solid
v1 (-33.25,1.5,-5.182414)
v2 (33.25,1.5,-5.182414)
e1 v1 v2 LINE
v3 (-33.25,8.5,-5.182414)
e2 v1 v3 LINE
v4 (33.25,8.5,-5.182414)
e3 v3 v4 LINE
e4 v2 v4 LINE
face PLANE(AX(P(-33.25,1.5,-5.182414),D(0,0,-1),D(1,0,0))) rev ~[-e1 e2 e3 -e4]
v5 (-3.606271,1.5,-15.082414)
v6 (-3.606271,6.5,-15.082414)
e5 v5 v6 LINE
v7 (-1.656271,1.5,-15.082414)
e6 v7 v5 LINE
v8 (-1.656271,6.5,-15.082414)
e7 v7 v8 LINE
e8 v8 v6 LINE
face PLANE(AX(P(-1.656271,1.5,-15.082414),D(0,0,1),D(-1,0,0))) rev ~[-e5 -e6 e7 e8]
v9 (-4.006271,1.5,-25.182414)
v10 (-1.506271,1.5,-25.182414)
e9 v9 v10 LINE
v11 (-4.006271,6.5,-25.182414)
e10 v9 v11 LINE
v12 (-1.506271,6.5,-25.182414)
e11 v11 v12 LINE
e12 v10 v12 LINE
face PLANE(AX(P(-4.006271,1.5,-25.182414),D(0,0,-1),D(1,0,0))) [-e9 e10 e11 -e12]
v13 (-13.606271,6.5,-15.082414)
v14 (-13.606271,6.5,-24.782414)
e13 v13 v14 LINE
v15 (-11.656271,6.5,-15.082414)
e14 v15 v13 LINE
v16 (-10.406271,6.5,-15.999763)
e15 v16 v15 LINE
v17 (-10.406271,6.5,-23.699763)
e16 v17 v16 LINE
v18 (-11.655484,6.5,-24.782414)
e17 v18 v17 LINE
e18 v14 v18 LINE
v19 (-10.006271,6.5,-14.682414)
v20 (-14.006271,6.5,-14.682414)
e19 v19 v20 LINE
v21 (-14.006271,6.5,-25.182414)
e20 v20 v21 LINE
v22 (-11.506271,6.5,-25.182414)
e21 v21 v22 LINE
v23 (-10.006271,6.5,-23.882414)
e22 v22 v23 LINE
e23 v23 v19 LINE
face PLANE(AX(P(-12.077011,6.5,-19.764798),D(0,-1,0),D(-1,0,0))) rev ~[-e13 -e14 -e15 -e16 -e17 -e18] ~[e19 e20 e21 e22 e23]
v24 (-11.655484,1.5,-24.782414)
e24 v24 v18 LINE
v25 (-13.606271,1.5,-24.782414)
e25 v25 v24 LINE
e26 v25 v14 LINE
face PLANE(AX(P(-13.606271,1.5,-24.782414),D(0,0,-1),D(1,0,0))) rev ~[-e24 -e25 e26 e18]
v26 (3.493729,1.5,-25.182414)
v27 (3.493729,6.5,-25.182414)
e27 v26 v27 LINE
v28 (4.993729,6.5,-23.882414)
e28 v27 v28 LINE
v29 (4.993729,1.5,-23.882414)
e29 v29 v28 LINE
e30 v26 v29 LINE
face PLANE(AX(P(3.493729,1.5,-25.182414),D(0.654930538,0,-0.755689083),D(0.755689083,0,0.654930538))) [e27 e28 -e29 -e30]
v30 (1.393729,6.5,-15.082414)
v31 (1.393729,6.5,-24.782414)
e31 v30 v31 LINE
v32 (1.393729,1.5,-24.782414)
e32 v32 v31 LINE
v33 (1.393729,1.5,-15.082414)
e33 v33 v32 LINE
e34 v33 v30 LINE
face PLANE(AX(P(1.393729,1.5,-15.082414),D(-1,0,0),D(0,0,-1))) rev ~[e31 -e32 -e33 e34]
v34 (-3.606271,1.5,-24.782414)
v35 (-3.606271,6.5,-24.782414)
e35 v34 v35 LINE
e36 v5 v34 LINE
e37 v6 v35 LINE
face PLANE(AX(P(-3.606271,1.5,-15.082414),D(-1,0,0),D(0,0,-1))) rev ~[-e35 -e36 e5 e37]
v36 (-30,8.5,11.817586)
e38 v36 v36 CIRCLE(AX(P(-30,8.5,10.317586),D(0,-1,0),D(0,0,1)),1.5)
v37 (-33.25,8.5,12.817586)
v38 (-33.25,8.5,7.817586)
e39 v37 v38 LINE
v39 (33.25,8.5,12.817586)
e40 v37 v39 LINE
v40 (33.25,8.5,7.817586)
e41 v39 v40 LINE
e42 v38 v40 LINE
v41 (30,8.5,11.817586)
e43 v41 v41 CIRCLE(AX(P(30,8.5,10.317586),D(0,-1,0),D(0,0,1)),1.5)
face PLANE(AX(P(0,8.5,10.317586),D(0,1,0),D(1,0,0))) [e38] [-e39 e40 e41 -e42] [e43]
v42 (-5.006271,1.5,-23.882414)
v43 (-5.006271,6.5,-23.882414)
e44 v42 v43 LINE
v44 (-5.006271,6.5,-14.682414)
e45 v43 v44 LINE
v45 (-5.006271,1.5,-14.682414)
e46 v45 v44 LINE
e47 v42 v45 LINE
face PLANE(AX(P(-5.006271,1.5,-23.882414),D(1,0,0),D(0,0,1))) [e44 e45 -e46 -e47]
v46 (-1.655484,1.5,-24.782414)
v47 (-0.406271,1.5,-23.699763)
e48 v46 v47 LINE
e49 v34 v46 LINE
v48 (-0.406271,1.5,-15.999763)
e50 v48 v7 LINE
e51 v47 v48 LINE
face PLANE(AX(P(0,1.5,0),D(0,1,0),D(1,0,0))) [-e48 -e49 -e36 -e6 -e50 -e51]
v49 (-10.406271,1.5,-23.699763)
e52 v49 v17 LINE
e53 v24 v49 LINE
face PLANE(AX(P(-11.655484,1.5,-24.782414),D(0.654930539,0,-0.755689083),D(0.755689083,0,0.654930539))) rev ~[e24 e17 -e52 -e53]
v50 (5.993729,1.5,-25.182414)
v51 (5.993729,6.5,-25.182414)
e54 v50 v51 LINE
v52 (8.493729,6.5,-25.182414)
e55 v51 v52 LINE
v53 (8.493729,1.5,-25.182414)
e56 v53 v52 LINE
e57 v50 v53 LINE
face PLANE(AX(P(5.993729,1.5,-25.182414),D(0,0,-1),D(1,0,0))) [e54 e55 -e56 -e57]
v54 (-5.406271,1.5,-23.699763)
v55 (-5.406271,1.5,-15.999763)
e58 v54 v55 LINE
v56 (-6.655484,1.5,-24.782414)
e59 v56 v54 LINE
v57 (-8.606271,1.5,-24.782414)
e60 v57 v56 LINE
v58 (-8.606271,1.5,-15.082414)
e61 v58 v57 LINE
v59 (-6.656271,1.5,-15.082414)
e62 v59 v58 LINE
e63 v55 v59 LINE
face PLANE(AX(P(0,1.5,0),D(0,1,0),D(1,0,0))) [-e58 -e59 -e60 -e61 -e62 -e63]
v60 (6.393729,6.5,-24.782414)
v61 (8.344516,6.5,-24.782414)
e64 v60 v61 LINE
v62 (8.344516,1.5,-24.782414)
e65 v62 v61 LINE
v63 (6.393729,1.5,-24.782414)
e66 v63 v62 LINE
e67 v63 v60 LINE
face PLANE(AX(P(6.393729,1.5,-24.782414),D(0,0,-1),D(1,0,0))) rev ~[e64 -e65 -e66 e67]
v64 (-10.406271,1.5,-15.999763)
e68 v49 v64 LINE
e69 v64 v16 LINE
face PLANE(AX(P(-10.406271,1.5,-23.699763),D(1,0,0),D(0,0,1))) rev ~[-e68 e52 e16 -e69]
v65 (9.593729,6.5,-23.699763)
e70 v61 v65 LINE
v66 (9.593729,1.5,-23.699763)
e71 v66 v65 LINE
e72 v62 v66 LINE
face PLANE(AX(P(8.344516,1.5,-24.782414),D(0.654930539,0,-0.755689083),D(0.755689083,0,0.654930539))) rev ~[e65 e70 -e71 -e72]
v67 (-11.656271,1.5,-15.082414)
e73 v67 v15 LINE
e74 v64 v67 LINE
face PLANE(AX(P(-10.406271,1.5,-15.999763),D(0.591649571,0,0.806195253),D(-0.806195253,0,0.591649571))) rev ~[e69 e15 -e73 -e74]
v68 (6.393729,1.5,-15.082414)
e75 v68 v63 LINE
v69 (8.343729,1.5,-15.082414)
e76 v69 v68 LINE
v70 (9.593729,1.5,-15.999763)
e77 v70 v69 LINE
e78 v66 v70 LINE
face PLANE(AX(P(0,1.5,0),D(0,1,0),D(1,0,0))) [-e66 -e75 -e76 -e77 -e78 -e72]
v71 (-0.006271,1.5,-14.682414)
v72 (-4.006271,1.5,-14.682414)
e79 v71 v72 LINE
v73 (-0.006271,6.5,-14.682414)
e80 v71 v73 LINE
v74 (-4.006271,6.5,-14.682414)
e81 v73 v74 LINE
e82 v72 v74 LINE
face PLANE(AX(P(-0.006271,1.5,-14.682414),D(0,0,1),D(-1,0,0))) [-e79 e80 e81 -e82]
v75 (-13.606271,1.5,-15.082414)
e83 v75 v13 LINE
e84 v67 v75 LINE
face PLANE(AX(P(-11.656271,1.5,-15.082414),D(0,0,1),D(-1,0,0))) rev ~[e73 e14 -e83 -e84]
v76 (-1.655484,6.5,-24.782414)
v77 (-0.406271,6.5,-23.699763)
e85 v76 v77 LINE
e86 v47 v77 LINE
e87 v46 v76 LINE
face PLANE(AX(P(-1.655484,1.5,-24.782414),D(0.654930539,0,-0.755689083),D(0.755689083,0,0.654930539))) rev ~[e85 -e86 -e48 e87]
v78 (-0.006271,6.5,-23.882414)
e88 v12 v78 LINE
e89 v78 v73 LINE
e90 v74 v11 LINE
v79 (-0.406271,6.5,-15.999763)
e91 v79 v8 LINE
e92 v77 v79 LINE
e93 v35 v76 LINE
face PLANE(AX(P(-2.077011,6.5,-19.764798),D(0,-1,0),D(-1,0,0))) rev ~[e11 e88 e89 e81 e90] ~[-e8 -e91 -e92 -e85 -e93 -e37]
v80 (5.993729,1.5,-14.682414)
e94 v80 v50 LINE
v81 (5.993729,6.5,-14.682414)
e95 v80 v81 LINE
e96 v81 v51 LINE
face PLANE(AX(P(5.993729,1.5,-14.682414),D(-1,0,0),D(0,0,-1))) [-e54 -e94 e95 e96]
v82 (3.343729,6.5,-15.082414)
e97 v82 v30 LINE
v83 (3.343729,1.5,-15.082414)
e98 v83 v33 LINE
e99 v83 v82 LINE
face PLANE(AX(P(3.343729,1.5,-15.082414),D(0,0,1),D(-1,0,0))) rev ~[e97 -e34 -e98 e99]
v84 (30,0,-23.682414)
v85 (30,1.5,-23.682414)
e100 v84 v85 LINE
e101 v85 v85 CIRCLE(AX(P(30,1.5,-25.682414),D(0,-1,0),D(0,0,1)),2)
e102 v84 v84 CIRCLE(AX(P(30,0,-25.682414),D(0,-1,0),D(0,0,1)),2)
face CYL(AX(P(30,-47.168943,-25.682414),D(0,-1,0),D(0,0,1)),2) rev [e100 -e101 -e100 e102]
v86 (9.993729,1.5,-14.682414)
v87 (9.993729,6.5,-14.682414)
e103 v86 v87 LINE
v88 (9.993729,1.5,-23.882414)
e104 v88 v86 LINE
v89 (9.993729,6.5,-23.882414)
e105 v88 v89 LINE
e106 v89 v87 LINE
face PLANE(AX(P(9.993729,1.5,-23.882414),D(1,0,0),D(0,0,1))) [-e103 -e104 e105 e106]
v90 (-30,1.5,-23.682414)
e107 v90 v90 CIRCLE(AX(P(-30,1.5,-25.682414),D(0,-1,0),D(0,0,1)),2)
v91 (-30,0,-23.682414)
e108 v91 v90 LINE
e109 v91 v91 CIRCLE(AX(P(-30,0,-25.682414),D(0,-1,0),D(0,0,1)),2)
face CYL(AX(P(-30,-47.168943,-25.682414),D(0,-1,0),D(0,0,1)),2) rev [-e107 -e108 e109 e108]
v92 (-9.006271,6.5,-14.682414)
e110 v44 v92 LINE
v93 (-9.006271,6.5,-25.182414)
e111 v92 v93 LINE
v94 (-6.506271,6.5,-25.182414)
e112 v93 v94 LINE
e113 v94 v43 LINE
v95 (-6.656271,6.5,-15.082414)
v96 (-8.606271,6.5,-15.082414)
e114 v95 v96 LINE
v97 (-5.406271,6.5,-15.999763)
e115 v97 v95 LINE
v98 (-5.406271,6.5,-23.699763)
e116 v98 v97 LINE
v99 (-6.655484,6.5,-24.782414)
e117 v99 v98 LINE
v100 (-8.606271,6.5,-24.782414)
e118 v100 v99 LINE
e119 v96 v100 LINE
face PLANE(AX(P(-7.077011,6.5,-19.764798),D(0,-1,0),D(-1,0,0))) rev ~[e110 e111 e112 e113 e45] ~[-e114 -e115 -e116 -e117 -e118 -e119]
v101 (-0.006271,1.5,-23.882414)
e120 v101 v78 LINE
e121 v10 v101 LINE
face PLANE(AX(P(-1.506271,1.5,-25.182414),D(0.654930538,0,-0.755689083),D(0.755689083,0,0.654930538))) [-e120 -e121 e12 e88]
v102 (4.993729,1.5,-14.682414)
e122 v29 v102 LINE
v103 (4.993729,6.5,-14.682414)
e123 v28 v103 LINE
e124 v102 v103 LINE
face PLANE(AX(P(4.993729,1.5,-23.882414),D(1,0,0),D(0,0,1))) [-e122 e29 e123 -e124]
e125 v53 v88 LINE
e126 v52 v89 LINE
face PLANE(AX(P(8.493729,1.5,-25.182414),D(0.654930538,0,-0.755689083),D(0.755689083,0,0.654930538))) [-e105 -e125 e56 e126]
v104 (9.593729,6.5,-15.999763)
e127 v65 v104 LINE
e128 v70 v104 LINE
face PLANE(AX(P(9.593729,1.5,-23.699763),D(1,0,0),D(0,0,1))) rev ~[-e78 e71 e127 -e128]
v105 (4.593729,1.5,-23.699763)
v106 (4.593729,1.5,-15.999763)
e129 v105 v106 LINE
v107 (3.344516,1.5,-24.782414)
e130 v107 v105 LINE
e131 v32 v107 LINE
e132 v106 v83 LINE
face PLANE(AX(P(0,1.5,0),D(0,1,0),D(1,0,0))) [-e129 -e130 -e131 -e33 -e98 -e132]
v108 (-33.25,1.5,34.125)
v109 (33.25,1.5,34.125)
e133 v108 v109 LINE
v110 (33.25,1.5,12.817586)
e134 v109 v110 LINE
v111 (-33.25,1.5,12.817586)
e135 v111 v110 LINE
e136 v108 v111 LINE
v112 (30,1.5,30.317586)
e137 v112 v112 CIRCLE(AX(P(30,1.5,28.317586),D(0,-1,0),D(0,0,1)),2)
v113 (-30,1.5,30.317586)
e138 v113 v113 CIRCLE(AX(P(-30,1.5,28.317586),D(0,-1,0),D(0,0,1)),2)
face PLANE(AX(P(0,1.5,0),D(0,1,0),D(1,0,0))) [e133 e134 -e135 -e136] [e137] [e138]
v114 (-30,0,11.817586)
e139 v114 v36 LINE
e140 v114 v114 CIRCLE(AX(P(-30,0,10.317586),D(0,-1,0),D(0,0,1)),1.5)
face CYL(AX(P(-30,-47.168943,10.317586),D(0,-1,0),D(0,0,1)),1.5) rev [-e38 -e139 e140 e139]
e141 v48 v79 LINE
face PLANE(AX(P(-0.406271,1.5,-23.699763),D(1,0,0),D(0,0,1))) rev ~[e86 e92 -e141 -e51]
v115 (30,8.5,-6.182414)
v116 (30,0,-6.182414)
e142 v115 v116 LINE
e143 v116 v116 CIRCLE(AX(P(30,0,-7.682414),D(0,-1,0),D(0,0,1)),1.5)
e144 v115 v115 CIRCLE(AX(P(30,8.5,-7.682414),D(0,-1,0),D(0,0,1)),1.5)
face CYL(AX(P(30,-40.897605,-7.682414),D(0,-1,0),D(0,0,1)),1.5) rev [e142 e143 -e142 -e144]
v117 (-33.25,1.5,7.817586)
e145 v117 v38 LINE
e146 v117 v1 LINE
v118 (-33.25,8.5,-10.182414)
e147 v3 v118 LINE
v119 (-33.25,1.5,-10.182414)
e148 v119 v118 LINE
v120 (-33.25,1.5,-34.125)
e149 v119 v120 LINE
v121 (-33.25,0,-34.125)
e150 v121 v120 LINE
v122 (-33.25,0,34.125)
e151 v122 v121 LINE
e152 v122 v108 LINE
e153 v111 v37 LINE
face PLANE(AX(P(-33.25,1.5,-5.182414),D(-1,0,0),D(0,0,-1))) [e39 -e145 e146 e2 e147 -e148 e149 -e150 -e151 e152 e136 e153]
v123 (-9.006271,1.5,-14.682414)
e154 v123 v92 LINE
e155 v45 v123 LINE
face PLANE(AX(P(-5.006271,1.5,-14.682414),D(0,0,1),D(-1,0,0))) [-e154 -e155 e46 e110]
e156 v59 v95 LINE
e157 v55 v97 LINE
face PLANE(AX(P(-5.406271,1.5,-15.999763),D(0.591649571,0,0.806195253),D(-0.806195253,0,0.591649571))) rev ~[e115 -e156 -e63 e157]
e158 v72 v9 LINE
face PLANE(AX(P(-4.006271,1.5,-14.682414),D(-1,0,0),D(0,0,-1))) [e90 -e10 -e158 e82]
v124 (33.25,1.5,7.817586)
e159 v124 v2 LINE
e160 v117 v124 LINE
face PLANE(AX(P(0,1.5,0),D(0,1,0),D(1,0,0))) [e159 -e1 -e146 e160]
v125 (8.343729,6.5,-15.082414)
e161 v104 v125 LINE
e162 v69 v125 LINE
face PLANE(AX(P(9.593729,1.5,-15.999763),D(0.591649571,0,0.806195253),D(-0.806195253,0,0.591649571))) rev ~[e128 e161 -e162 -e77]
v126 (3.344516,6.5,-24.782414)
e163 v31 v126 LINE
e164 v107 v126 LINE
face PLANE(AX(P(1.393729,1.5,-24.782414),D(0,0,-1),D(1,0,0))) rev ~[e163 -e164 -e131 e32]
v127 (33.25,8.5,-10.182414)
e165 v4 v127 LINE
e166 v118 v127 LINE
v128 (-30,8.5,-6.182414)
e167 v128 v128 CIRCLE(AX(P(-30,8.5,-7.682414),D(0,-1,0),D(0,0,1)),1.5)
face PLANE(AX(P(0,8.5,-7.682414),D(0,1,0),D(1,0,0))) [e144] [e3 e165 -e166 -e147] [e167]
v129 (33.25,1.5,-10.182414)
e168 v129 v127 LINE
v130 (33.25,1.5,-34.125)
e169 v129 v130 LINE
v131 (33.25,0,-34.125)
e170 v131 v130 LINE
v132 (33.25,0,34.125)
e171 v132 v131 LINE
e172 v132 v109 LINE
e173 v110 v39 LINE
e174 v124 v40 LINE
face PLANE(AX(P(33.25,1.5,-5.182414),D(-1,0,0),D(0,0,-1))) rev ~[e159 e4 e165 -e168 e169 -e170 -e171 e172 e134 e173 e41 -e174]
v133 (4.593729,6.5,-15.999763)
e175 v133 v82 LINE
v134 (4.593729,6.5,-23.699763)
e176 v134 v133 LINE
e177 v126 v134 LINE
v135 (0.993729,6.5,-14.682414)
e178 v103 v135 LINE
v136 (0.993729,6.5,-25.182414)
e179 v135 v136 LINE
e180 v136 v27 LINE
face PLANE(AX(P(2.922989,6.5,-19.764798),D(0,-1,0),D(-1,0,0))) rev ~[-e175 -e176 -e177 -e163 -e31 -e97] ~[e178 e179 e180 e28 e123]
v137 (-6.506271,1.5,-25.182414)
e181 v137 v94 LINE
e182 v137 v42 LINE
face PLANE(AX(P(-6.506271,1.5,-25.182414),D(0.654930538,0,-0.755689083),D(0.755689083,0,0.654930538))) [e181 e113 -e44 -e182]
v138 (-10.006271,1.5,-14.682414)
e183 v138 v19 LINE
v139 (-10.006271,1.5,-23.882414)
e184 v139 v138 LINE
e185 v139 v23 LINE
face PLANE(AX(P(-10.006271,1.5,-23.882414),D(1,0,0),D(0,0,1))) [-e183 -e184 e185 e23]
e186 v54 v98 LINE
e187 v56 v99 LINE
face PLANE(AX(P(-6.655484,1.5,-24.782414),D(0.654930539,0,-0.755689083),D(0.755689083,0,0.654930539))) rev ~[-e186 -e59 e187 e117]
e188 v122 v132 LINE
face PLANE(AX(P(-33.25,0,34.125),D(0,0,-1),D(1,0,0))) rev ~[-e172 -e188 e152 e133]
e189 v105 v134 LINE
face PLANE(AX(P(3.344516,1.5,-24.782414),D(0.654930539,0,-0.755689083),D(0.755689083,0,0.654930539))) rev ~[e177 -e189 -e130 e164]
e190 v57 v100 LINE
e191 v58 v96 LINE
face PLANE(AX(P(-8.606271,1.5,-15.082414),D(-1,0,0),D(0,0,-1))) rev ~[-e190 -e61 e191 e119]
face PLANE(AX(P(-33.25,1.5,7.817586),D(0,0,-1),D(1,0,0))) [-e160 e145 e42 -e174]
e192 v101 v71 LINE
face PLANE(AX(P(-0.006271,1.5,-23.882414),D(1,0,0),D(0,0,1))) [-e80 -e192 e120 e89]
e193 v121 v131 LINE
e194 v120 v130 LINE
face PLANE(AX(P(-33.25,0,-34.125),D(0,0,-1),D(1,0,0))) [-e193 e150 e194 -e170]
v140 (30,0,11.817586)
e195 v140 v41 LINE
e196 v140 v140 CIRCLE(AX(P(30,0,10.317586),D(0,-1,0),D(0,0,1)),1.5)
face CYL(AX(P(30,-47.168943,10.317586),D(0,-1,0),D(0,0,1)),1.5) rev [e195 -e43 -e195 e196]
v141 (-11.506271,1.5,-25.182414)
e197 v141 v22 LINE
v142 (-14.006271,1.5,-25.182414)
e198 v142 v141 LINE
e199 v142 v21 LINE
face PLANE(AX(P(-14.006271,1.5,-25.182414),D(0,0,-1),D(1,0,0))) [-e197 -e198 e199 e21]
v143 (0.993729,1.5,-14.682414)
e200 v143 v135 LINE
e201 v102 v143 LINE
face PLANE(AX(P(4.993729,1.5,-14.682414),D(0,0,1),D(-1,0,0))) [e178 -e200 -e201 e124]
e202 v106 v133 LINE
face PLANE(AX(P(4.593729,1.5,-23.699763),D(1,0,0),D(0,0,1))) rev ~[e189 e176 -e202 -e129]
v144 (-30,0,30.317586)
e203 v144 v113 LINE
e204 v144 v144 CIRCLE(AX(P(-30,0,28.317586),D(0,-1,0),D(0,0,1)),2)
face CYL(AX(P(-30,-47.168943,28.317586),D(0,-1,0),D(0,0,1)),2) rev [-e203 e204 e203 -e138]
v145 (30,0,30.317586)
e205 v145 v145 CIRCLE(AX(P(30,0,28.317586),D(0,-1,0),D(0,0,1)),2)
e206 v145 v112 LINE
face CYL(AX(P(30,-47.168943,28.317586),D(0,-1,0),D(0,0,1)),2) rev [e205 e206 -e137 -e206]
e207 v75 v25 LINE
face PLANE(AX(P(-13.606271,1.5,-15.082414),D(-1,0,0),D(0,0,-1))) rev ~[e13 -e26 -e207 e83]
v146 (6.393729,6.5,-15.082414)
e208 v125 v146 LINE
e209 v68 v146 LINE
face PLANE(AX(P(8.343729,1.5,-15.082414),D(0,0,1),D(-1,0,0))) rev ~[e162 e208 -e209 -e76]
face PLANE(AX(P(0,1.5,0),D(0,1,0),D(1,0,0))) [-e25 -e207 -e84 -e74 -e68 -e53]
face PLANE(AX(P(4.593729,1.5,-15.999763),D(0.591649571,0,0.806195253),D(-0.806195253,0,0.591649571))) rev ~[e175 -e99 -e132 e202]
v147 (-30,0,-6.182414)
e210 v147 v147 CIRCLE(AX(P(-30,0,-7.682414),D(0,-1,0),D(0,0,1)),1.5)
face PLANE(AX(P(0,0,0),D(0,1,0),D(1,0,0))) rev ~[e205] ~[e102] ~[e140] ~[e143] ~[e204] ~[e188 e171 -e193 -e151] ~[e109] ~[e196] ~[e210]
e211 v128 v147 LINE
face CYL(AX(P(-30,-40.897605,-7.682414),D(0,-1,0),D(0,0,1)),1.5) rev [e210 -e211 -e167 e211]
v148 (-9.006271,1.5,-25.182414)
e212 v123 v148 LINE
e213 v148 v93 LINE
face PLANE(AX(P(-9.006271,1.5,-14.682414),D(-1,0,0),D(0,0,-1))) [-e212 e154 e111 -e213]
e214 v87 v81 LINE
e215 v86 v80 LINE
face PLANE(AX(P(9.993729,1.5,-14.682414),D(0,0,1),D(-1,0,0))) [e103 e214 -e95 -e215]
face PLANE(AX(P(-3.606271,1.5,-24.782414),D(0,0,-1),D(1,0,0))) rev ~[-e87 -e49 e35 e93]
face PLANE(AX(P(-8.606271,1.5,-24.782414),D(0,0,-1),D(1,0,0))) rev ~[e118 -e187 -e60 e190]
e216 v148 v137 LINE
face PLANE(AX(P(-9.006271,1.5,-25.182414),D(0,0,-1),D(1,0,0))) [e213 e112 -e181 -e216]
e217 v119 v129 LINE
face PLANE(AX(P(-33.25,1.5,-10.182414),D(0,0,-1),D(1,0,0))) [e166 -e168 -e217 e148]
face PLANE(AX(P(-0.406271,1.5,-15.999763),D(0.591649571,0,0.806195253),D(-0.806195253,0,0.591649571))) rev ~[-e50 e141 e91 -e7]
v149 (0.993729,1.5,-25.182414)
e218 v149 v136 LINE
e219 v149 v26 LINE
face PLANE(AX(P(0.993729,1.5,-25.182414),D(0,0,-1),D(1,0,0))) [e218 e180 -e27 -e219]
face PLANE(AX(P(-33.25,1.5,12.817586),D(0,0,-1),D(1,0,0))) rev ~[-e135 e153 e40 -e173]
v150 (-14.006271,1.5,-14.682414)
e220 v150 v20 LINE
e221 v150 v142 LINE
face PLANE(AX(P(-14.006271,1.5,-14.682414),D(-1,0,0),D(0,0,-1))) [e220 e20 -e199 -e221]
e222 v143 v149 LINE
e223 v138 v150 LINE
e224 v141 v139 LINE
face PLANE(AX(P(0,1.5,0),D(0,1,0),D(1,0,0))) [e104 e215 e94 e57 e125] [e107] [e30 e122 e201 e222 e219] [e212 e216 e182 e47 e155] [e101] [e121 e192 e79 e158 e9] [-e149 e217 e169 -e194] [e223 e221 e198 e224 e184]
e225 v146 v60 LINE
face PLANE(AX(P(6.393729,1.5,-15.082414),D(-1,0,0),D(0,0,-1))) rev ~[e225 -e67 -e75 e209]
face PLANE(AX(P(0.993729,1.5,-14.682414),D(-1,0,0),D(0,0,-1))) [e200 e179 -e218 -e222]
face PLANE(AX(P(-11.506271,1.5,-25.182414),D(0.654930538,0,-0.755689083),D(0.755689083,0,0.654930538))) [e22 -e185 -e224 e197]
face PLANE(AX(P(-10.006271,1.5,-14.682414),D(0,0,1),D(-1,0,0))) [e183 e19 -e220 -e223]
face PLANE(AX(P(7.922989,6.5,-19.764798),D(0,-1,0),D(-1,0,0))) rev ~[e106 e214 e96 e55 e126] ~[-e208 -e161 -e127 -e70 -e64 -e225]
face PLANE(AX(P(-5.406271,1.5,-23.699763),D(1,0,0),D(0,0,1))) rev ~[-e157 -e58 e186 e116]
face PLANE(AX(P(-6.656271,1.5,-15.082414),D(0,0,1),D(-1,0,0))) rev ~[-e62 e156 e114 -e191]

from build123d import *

# Parameters (mm, degrees)
SKETCH1_W               = 66.5
SKETCH1_H               = 68.25
BOSS_EXTRUDE1_DEPTH     = 1.5
CUT_EXTRUDE1_DEPTH      = 48.668942982
CUT_EXTRUDE1_DEPTH_BACK = 48.668942982
SKETCH3_R               = 2
SKETCH3_R_2             = 1.5
BOSS_EXTRUDE2_DEPTH     = 5
SKETCH6_W               = 66.5
SKETCH6_H               = 5
BOSS_EXTRUDE3_DEPTH     = 7
CUT_EXTRUDE2_DEPTH      = 49.397604538
CUT_EXTRUDE2_DEPTH_BACK = 49.397604538
SKETCH7_R               = 1.5


with BuildPart() as part:
    # Sketch1 → Boss-Extrude1 (new body)
    with BuildSketch(Plane(origin=(0, 0, 0), x_dir=(1, 0, 0), z_dir=(0, 1, 0))):
        Rectangle(SKETCH1_W, SKETCH1_H)
    extrude(amount=BOSS_EXTRUDE1_DEPTH)

    # Sketch3 → Cut-Extrude1 (cut, two sides: drawn at the far end of the back side and taken through both)
    with BuildSketch(Plane(origin=(0, 1.5, 0), x_dir=(1, 0, 0), z_dir=(0, 1, 0)).offset(-CUT_EXTRUDE1_DEPTH_BACK)):
        with Locations(Location((-30, -28.317585536, 0), (0, 0, 270))):
            Circle(SKETCH3_R)
        with Locations(Location((30, -28.317585536, 0), (0, 0, 270))):
            Circle(SKETCH3_R)
        with Locations(Location((30, 25.682414464, 0), (0, 0, 270))):
            Circle(SKETCH3_R)
        with Locations(Location((-30, 25.682414464, 0), (0, 0, 270))):
            Circle(SKETCH3_R)
        with Locations(Location((30, 7.682414464, 0), (0, 0, 270))):
            Circle(SKETCH3_R_2)
        with Locations(Location((30, -10.317585536, 0), (0, 0, 270))):
            Circle(SKETCH3_R_2)
        with Locations(Location((-30, -10.317585536, 0), (0, 0, 270))):
            Circle(SKETCH3_R_2)
        with Locations(Location((-30, 7.682414464, 0), (0, 0, 270))):
            Circle(SKETCH3_R_2)
    extrude(amount=CUT_EXTRUDE1_DEPTH + CUT_EXTRUDE1_DEPTH_BACK, mode=Mode.SUBTRACT)

    # Sketch5 → Boss-Extrude2 (add)
    # profile 1 of 5: a face of its own
    with BuildSketch(Plane(origin=(0, 1.5, 0), x_dir=(1, 0, 0), z_dir=(0, 1, 0))):
        Polygon((-14.006270714, 25.182414464), (-11.506270714, 25.182414464), (-10.006270714, 23.882414464), (-10.006270714, 14.682414464), (-14.006270714, 14.682414464), align=None)
        Polygon((-10.406270714, 23.699762911), (-10.406270714, 15.999762911), (-11.656270714, 15.082414464), (-13.606270714, 15.082414464), (-13.606270714, 24.782414464), (-11.655484044, 24.782414464), align=None, mode=Mode.SUBTRACT)
    # profile 2 of 5: a face of its own
    with BuildSketch(Plane(origin=(0, 1.5, 0), x_dir=(1, 0, 0), z_dir=(0, 1, 0))):
        Polygon((-9.006270714, 25.182414464), (-6.506270714, 25.182414464), (-5.006270714, 23.882414464), (-5.006270714, 14.682414464), (-9.006270714, 14.682414464), align=None)
        Polygon((-5.406270714, 23.699762911), (-5.406270714, 15.999762911), (-6.656270714, 15.082414464), (-8.606270714, 15.082414464), (-8.606270714, 24.782414464), (-6.655484044, 24.782414464), align=None, mode=Mode.SUBTRACT)
    # profile 3 of 5: a face of its own
    with BuildSketch(Plane(origin=(0, 1.5, 0), x_dir=(1, 0, 0), z_dir=(0, 1, 0))):
        Polygon((-4.006270714, 25.182414464), (-1.506270714, 25.182414464), (-0.006270714, 23.882414464), (-0.006270714, 14.682414464), (-4.006270714, 14.682414464), align=None)
        Polygon((-0.406270714, 23.699762911), (-0.406270714, 15.999762911), (-1.656270714, 15.082414464), (-3.606270714, 15.082414464), (-3.606270714, 24.782414464), (-1.655484044, 24.782414464), align=None, mode=Mode.SUBTRACT)
    # profile 4 of 5: a face of its own
    with BuildSketch(Plane(origin=(0, 1.5, 0), x_dir=(1, 0, 0), z_dir=(0, 1, 0))):
        Polygon((0.993729286, 25.182414464), (3.493729286, 25.182414464), (4.993729286, 23.882414464), (4.993729286, 14.682414464), (0.993729286, 14.682414464), align=None)
        Polygon((4.593729286, 23.699762911), (4.593729286, 15.999762911), (3.343729286, 15.082414464), (1.393729286, 15.082414464), (1.393729286, 24.782414464), (3.344515956, 24.782414464), align=None, mode=Mode.SUBTRACT)
    # profile 5 of 5: a face of its own
    with BuildSketch(Plane(origin=(0, 1.5, 0), x_dir=(1, 0, 0), z_dir=(0, 1, 0))):
        Polygon((5.993729286, 25.182414464), (8.493729286, 25.182414464), (9.993729286, 23.882414464), (9.993729286, 14.682414464), (5.993729286, 14.682414464), align=None)
        Polygon((9.593729286, 23.699762911), (9.593729286, 15.999762911), (8.343729286, 15.082414464), (6.393729286, 15.082414464), (6.393729286, 24.782414464), (8.344515956, 24.782414464), align=None, mode=Mode.SUBTRACT)
    extrude(amount=BOSS_EXTRUDE2_DEPTH)

    # Sketch6 → Boss-Extrude3 (add)
    with BuildSketch(Plane(origin=(0, 1.5, 0), x_dir=(1, 0, 0), z_dir=(0, 1, 0))):
        with Locations((0, 7.682414464)):
            Rectangle(SKETCH6_W, SKETCH6_H)
        with Locations((0, -10.317585536)):
            Rectangle(SKETCH6_W, SKETCH6_H)
    extrude(amount=BOSS_EXTRUDE3_DEPTH)

    # Sketch7 → Cut-Extrude2 (cut, two sides: drawn at the far end of the back side and taken through both)
    with BuildSketch(Plane(origin=(0, 8.5, 0), x_dir=(1, 0, 0), z_dir=(0, 1, 0)).offset(-CUT_EXTRUDE2_DEPTH_BACK)):
        with Locations(Location((-30, 7.682414464, 0), (0, 0, 270))):
            Circle(SKETCH7_R)
        with Locations(Location((-30, -10.317585536, 0), (0, 0, 270))):
            Circle(SKETCH7_R)
        with Locations(Location((30, -10.317585536, 0), (0, 0, 270))):
            Circle(SKETCH7_R)
        with Locations(Location((30, 7.682414464, 0), (0, 0, 270))):
            Circle(SKETCH7_R)
    extrude(amount=CUT_EXTRUDE2_DEPTH + CUT_EXTRUDE2_DEPTH_BACK, mode=Mode.SUBTRACT)


solid = part.part
